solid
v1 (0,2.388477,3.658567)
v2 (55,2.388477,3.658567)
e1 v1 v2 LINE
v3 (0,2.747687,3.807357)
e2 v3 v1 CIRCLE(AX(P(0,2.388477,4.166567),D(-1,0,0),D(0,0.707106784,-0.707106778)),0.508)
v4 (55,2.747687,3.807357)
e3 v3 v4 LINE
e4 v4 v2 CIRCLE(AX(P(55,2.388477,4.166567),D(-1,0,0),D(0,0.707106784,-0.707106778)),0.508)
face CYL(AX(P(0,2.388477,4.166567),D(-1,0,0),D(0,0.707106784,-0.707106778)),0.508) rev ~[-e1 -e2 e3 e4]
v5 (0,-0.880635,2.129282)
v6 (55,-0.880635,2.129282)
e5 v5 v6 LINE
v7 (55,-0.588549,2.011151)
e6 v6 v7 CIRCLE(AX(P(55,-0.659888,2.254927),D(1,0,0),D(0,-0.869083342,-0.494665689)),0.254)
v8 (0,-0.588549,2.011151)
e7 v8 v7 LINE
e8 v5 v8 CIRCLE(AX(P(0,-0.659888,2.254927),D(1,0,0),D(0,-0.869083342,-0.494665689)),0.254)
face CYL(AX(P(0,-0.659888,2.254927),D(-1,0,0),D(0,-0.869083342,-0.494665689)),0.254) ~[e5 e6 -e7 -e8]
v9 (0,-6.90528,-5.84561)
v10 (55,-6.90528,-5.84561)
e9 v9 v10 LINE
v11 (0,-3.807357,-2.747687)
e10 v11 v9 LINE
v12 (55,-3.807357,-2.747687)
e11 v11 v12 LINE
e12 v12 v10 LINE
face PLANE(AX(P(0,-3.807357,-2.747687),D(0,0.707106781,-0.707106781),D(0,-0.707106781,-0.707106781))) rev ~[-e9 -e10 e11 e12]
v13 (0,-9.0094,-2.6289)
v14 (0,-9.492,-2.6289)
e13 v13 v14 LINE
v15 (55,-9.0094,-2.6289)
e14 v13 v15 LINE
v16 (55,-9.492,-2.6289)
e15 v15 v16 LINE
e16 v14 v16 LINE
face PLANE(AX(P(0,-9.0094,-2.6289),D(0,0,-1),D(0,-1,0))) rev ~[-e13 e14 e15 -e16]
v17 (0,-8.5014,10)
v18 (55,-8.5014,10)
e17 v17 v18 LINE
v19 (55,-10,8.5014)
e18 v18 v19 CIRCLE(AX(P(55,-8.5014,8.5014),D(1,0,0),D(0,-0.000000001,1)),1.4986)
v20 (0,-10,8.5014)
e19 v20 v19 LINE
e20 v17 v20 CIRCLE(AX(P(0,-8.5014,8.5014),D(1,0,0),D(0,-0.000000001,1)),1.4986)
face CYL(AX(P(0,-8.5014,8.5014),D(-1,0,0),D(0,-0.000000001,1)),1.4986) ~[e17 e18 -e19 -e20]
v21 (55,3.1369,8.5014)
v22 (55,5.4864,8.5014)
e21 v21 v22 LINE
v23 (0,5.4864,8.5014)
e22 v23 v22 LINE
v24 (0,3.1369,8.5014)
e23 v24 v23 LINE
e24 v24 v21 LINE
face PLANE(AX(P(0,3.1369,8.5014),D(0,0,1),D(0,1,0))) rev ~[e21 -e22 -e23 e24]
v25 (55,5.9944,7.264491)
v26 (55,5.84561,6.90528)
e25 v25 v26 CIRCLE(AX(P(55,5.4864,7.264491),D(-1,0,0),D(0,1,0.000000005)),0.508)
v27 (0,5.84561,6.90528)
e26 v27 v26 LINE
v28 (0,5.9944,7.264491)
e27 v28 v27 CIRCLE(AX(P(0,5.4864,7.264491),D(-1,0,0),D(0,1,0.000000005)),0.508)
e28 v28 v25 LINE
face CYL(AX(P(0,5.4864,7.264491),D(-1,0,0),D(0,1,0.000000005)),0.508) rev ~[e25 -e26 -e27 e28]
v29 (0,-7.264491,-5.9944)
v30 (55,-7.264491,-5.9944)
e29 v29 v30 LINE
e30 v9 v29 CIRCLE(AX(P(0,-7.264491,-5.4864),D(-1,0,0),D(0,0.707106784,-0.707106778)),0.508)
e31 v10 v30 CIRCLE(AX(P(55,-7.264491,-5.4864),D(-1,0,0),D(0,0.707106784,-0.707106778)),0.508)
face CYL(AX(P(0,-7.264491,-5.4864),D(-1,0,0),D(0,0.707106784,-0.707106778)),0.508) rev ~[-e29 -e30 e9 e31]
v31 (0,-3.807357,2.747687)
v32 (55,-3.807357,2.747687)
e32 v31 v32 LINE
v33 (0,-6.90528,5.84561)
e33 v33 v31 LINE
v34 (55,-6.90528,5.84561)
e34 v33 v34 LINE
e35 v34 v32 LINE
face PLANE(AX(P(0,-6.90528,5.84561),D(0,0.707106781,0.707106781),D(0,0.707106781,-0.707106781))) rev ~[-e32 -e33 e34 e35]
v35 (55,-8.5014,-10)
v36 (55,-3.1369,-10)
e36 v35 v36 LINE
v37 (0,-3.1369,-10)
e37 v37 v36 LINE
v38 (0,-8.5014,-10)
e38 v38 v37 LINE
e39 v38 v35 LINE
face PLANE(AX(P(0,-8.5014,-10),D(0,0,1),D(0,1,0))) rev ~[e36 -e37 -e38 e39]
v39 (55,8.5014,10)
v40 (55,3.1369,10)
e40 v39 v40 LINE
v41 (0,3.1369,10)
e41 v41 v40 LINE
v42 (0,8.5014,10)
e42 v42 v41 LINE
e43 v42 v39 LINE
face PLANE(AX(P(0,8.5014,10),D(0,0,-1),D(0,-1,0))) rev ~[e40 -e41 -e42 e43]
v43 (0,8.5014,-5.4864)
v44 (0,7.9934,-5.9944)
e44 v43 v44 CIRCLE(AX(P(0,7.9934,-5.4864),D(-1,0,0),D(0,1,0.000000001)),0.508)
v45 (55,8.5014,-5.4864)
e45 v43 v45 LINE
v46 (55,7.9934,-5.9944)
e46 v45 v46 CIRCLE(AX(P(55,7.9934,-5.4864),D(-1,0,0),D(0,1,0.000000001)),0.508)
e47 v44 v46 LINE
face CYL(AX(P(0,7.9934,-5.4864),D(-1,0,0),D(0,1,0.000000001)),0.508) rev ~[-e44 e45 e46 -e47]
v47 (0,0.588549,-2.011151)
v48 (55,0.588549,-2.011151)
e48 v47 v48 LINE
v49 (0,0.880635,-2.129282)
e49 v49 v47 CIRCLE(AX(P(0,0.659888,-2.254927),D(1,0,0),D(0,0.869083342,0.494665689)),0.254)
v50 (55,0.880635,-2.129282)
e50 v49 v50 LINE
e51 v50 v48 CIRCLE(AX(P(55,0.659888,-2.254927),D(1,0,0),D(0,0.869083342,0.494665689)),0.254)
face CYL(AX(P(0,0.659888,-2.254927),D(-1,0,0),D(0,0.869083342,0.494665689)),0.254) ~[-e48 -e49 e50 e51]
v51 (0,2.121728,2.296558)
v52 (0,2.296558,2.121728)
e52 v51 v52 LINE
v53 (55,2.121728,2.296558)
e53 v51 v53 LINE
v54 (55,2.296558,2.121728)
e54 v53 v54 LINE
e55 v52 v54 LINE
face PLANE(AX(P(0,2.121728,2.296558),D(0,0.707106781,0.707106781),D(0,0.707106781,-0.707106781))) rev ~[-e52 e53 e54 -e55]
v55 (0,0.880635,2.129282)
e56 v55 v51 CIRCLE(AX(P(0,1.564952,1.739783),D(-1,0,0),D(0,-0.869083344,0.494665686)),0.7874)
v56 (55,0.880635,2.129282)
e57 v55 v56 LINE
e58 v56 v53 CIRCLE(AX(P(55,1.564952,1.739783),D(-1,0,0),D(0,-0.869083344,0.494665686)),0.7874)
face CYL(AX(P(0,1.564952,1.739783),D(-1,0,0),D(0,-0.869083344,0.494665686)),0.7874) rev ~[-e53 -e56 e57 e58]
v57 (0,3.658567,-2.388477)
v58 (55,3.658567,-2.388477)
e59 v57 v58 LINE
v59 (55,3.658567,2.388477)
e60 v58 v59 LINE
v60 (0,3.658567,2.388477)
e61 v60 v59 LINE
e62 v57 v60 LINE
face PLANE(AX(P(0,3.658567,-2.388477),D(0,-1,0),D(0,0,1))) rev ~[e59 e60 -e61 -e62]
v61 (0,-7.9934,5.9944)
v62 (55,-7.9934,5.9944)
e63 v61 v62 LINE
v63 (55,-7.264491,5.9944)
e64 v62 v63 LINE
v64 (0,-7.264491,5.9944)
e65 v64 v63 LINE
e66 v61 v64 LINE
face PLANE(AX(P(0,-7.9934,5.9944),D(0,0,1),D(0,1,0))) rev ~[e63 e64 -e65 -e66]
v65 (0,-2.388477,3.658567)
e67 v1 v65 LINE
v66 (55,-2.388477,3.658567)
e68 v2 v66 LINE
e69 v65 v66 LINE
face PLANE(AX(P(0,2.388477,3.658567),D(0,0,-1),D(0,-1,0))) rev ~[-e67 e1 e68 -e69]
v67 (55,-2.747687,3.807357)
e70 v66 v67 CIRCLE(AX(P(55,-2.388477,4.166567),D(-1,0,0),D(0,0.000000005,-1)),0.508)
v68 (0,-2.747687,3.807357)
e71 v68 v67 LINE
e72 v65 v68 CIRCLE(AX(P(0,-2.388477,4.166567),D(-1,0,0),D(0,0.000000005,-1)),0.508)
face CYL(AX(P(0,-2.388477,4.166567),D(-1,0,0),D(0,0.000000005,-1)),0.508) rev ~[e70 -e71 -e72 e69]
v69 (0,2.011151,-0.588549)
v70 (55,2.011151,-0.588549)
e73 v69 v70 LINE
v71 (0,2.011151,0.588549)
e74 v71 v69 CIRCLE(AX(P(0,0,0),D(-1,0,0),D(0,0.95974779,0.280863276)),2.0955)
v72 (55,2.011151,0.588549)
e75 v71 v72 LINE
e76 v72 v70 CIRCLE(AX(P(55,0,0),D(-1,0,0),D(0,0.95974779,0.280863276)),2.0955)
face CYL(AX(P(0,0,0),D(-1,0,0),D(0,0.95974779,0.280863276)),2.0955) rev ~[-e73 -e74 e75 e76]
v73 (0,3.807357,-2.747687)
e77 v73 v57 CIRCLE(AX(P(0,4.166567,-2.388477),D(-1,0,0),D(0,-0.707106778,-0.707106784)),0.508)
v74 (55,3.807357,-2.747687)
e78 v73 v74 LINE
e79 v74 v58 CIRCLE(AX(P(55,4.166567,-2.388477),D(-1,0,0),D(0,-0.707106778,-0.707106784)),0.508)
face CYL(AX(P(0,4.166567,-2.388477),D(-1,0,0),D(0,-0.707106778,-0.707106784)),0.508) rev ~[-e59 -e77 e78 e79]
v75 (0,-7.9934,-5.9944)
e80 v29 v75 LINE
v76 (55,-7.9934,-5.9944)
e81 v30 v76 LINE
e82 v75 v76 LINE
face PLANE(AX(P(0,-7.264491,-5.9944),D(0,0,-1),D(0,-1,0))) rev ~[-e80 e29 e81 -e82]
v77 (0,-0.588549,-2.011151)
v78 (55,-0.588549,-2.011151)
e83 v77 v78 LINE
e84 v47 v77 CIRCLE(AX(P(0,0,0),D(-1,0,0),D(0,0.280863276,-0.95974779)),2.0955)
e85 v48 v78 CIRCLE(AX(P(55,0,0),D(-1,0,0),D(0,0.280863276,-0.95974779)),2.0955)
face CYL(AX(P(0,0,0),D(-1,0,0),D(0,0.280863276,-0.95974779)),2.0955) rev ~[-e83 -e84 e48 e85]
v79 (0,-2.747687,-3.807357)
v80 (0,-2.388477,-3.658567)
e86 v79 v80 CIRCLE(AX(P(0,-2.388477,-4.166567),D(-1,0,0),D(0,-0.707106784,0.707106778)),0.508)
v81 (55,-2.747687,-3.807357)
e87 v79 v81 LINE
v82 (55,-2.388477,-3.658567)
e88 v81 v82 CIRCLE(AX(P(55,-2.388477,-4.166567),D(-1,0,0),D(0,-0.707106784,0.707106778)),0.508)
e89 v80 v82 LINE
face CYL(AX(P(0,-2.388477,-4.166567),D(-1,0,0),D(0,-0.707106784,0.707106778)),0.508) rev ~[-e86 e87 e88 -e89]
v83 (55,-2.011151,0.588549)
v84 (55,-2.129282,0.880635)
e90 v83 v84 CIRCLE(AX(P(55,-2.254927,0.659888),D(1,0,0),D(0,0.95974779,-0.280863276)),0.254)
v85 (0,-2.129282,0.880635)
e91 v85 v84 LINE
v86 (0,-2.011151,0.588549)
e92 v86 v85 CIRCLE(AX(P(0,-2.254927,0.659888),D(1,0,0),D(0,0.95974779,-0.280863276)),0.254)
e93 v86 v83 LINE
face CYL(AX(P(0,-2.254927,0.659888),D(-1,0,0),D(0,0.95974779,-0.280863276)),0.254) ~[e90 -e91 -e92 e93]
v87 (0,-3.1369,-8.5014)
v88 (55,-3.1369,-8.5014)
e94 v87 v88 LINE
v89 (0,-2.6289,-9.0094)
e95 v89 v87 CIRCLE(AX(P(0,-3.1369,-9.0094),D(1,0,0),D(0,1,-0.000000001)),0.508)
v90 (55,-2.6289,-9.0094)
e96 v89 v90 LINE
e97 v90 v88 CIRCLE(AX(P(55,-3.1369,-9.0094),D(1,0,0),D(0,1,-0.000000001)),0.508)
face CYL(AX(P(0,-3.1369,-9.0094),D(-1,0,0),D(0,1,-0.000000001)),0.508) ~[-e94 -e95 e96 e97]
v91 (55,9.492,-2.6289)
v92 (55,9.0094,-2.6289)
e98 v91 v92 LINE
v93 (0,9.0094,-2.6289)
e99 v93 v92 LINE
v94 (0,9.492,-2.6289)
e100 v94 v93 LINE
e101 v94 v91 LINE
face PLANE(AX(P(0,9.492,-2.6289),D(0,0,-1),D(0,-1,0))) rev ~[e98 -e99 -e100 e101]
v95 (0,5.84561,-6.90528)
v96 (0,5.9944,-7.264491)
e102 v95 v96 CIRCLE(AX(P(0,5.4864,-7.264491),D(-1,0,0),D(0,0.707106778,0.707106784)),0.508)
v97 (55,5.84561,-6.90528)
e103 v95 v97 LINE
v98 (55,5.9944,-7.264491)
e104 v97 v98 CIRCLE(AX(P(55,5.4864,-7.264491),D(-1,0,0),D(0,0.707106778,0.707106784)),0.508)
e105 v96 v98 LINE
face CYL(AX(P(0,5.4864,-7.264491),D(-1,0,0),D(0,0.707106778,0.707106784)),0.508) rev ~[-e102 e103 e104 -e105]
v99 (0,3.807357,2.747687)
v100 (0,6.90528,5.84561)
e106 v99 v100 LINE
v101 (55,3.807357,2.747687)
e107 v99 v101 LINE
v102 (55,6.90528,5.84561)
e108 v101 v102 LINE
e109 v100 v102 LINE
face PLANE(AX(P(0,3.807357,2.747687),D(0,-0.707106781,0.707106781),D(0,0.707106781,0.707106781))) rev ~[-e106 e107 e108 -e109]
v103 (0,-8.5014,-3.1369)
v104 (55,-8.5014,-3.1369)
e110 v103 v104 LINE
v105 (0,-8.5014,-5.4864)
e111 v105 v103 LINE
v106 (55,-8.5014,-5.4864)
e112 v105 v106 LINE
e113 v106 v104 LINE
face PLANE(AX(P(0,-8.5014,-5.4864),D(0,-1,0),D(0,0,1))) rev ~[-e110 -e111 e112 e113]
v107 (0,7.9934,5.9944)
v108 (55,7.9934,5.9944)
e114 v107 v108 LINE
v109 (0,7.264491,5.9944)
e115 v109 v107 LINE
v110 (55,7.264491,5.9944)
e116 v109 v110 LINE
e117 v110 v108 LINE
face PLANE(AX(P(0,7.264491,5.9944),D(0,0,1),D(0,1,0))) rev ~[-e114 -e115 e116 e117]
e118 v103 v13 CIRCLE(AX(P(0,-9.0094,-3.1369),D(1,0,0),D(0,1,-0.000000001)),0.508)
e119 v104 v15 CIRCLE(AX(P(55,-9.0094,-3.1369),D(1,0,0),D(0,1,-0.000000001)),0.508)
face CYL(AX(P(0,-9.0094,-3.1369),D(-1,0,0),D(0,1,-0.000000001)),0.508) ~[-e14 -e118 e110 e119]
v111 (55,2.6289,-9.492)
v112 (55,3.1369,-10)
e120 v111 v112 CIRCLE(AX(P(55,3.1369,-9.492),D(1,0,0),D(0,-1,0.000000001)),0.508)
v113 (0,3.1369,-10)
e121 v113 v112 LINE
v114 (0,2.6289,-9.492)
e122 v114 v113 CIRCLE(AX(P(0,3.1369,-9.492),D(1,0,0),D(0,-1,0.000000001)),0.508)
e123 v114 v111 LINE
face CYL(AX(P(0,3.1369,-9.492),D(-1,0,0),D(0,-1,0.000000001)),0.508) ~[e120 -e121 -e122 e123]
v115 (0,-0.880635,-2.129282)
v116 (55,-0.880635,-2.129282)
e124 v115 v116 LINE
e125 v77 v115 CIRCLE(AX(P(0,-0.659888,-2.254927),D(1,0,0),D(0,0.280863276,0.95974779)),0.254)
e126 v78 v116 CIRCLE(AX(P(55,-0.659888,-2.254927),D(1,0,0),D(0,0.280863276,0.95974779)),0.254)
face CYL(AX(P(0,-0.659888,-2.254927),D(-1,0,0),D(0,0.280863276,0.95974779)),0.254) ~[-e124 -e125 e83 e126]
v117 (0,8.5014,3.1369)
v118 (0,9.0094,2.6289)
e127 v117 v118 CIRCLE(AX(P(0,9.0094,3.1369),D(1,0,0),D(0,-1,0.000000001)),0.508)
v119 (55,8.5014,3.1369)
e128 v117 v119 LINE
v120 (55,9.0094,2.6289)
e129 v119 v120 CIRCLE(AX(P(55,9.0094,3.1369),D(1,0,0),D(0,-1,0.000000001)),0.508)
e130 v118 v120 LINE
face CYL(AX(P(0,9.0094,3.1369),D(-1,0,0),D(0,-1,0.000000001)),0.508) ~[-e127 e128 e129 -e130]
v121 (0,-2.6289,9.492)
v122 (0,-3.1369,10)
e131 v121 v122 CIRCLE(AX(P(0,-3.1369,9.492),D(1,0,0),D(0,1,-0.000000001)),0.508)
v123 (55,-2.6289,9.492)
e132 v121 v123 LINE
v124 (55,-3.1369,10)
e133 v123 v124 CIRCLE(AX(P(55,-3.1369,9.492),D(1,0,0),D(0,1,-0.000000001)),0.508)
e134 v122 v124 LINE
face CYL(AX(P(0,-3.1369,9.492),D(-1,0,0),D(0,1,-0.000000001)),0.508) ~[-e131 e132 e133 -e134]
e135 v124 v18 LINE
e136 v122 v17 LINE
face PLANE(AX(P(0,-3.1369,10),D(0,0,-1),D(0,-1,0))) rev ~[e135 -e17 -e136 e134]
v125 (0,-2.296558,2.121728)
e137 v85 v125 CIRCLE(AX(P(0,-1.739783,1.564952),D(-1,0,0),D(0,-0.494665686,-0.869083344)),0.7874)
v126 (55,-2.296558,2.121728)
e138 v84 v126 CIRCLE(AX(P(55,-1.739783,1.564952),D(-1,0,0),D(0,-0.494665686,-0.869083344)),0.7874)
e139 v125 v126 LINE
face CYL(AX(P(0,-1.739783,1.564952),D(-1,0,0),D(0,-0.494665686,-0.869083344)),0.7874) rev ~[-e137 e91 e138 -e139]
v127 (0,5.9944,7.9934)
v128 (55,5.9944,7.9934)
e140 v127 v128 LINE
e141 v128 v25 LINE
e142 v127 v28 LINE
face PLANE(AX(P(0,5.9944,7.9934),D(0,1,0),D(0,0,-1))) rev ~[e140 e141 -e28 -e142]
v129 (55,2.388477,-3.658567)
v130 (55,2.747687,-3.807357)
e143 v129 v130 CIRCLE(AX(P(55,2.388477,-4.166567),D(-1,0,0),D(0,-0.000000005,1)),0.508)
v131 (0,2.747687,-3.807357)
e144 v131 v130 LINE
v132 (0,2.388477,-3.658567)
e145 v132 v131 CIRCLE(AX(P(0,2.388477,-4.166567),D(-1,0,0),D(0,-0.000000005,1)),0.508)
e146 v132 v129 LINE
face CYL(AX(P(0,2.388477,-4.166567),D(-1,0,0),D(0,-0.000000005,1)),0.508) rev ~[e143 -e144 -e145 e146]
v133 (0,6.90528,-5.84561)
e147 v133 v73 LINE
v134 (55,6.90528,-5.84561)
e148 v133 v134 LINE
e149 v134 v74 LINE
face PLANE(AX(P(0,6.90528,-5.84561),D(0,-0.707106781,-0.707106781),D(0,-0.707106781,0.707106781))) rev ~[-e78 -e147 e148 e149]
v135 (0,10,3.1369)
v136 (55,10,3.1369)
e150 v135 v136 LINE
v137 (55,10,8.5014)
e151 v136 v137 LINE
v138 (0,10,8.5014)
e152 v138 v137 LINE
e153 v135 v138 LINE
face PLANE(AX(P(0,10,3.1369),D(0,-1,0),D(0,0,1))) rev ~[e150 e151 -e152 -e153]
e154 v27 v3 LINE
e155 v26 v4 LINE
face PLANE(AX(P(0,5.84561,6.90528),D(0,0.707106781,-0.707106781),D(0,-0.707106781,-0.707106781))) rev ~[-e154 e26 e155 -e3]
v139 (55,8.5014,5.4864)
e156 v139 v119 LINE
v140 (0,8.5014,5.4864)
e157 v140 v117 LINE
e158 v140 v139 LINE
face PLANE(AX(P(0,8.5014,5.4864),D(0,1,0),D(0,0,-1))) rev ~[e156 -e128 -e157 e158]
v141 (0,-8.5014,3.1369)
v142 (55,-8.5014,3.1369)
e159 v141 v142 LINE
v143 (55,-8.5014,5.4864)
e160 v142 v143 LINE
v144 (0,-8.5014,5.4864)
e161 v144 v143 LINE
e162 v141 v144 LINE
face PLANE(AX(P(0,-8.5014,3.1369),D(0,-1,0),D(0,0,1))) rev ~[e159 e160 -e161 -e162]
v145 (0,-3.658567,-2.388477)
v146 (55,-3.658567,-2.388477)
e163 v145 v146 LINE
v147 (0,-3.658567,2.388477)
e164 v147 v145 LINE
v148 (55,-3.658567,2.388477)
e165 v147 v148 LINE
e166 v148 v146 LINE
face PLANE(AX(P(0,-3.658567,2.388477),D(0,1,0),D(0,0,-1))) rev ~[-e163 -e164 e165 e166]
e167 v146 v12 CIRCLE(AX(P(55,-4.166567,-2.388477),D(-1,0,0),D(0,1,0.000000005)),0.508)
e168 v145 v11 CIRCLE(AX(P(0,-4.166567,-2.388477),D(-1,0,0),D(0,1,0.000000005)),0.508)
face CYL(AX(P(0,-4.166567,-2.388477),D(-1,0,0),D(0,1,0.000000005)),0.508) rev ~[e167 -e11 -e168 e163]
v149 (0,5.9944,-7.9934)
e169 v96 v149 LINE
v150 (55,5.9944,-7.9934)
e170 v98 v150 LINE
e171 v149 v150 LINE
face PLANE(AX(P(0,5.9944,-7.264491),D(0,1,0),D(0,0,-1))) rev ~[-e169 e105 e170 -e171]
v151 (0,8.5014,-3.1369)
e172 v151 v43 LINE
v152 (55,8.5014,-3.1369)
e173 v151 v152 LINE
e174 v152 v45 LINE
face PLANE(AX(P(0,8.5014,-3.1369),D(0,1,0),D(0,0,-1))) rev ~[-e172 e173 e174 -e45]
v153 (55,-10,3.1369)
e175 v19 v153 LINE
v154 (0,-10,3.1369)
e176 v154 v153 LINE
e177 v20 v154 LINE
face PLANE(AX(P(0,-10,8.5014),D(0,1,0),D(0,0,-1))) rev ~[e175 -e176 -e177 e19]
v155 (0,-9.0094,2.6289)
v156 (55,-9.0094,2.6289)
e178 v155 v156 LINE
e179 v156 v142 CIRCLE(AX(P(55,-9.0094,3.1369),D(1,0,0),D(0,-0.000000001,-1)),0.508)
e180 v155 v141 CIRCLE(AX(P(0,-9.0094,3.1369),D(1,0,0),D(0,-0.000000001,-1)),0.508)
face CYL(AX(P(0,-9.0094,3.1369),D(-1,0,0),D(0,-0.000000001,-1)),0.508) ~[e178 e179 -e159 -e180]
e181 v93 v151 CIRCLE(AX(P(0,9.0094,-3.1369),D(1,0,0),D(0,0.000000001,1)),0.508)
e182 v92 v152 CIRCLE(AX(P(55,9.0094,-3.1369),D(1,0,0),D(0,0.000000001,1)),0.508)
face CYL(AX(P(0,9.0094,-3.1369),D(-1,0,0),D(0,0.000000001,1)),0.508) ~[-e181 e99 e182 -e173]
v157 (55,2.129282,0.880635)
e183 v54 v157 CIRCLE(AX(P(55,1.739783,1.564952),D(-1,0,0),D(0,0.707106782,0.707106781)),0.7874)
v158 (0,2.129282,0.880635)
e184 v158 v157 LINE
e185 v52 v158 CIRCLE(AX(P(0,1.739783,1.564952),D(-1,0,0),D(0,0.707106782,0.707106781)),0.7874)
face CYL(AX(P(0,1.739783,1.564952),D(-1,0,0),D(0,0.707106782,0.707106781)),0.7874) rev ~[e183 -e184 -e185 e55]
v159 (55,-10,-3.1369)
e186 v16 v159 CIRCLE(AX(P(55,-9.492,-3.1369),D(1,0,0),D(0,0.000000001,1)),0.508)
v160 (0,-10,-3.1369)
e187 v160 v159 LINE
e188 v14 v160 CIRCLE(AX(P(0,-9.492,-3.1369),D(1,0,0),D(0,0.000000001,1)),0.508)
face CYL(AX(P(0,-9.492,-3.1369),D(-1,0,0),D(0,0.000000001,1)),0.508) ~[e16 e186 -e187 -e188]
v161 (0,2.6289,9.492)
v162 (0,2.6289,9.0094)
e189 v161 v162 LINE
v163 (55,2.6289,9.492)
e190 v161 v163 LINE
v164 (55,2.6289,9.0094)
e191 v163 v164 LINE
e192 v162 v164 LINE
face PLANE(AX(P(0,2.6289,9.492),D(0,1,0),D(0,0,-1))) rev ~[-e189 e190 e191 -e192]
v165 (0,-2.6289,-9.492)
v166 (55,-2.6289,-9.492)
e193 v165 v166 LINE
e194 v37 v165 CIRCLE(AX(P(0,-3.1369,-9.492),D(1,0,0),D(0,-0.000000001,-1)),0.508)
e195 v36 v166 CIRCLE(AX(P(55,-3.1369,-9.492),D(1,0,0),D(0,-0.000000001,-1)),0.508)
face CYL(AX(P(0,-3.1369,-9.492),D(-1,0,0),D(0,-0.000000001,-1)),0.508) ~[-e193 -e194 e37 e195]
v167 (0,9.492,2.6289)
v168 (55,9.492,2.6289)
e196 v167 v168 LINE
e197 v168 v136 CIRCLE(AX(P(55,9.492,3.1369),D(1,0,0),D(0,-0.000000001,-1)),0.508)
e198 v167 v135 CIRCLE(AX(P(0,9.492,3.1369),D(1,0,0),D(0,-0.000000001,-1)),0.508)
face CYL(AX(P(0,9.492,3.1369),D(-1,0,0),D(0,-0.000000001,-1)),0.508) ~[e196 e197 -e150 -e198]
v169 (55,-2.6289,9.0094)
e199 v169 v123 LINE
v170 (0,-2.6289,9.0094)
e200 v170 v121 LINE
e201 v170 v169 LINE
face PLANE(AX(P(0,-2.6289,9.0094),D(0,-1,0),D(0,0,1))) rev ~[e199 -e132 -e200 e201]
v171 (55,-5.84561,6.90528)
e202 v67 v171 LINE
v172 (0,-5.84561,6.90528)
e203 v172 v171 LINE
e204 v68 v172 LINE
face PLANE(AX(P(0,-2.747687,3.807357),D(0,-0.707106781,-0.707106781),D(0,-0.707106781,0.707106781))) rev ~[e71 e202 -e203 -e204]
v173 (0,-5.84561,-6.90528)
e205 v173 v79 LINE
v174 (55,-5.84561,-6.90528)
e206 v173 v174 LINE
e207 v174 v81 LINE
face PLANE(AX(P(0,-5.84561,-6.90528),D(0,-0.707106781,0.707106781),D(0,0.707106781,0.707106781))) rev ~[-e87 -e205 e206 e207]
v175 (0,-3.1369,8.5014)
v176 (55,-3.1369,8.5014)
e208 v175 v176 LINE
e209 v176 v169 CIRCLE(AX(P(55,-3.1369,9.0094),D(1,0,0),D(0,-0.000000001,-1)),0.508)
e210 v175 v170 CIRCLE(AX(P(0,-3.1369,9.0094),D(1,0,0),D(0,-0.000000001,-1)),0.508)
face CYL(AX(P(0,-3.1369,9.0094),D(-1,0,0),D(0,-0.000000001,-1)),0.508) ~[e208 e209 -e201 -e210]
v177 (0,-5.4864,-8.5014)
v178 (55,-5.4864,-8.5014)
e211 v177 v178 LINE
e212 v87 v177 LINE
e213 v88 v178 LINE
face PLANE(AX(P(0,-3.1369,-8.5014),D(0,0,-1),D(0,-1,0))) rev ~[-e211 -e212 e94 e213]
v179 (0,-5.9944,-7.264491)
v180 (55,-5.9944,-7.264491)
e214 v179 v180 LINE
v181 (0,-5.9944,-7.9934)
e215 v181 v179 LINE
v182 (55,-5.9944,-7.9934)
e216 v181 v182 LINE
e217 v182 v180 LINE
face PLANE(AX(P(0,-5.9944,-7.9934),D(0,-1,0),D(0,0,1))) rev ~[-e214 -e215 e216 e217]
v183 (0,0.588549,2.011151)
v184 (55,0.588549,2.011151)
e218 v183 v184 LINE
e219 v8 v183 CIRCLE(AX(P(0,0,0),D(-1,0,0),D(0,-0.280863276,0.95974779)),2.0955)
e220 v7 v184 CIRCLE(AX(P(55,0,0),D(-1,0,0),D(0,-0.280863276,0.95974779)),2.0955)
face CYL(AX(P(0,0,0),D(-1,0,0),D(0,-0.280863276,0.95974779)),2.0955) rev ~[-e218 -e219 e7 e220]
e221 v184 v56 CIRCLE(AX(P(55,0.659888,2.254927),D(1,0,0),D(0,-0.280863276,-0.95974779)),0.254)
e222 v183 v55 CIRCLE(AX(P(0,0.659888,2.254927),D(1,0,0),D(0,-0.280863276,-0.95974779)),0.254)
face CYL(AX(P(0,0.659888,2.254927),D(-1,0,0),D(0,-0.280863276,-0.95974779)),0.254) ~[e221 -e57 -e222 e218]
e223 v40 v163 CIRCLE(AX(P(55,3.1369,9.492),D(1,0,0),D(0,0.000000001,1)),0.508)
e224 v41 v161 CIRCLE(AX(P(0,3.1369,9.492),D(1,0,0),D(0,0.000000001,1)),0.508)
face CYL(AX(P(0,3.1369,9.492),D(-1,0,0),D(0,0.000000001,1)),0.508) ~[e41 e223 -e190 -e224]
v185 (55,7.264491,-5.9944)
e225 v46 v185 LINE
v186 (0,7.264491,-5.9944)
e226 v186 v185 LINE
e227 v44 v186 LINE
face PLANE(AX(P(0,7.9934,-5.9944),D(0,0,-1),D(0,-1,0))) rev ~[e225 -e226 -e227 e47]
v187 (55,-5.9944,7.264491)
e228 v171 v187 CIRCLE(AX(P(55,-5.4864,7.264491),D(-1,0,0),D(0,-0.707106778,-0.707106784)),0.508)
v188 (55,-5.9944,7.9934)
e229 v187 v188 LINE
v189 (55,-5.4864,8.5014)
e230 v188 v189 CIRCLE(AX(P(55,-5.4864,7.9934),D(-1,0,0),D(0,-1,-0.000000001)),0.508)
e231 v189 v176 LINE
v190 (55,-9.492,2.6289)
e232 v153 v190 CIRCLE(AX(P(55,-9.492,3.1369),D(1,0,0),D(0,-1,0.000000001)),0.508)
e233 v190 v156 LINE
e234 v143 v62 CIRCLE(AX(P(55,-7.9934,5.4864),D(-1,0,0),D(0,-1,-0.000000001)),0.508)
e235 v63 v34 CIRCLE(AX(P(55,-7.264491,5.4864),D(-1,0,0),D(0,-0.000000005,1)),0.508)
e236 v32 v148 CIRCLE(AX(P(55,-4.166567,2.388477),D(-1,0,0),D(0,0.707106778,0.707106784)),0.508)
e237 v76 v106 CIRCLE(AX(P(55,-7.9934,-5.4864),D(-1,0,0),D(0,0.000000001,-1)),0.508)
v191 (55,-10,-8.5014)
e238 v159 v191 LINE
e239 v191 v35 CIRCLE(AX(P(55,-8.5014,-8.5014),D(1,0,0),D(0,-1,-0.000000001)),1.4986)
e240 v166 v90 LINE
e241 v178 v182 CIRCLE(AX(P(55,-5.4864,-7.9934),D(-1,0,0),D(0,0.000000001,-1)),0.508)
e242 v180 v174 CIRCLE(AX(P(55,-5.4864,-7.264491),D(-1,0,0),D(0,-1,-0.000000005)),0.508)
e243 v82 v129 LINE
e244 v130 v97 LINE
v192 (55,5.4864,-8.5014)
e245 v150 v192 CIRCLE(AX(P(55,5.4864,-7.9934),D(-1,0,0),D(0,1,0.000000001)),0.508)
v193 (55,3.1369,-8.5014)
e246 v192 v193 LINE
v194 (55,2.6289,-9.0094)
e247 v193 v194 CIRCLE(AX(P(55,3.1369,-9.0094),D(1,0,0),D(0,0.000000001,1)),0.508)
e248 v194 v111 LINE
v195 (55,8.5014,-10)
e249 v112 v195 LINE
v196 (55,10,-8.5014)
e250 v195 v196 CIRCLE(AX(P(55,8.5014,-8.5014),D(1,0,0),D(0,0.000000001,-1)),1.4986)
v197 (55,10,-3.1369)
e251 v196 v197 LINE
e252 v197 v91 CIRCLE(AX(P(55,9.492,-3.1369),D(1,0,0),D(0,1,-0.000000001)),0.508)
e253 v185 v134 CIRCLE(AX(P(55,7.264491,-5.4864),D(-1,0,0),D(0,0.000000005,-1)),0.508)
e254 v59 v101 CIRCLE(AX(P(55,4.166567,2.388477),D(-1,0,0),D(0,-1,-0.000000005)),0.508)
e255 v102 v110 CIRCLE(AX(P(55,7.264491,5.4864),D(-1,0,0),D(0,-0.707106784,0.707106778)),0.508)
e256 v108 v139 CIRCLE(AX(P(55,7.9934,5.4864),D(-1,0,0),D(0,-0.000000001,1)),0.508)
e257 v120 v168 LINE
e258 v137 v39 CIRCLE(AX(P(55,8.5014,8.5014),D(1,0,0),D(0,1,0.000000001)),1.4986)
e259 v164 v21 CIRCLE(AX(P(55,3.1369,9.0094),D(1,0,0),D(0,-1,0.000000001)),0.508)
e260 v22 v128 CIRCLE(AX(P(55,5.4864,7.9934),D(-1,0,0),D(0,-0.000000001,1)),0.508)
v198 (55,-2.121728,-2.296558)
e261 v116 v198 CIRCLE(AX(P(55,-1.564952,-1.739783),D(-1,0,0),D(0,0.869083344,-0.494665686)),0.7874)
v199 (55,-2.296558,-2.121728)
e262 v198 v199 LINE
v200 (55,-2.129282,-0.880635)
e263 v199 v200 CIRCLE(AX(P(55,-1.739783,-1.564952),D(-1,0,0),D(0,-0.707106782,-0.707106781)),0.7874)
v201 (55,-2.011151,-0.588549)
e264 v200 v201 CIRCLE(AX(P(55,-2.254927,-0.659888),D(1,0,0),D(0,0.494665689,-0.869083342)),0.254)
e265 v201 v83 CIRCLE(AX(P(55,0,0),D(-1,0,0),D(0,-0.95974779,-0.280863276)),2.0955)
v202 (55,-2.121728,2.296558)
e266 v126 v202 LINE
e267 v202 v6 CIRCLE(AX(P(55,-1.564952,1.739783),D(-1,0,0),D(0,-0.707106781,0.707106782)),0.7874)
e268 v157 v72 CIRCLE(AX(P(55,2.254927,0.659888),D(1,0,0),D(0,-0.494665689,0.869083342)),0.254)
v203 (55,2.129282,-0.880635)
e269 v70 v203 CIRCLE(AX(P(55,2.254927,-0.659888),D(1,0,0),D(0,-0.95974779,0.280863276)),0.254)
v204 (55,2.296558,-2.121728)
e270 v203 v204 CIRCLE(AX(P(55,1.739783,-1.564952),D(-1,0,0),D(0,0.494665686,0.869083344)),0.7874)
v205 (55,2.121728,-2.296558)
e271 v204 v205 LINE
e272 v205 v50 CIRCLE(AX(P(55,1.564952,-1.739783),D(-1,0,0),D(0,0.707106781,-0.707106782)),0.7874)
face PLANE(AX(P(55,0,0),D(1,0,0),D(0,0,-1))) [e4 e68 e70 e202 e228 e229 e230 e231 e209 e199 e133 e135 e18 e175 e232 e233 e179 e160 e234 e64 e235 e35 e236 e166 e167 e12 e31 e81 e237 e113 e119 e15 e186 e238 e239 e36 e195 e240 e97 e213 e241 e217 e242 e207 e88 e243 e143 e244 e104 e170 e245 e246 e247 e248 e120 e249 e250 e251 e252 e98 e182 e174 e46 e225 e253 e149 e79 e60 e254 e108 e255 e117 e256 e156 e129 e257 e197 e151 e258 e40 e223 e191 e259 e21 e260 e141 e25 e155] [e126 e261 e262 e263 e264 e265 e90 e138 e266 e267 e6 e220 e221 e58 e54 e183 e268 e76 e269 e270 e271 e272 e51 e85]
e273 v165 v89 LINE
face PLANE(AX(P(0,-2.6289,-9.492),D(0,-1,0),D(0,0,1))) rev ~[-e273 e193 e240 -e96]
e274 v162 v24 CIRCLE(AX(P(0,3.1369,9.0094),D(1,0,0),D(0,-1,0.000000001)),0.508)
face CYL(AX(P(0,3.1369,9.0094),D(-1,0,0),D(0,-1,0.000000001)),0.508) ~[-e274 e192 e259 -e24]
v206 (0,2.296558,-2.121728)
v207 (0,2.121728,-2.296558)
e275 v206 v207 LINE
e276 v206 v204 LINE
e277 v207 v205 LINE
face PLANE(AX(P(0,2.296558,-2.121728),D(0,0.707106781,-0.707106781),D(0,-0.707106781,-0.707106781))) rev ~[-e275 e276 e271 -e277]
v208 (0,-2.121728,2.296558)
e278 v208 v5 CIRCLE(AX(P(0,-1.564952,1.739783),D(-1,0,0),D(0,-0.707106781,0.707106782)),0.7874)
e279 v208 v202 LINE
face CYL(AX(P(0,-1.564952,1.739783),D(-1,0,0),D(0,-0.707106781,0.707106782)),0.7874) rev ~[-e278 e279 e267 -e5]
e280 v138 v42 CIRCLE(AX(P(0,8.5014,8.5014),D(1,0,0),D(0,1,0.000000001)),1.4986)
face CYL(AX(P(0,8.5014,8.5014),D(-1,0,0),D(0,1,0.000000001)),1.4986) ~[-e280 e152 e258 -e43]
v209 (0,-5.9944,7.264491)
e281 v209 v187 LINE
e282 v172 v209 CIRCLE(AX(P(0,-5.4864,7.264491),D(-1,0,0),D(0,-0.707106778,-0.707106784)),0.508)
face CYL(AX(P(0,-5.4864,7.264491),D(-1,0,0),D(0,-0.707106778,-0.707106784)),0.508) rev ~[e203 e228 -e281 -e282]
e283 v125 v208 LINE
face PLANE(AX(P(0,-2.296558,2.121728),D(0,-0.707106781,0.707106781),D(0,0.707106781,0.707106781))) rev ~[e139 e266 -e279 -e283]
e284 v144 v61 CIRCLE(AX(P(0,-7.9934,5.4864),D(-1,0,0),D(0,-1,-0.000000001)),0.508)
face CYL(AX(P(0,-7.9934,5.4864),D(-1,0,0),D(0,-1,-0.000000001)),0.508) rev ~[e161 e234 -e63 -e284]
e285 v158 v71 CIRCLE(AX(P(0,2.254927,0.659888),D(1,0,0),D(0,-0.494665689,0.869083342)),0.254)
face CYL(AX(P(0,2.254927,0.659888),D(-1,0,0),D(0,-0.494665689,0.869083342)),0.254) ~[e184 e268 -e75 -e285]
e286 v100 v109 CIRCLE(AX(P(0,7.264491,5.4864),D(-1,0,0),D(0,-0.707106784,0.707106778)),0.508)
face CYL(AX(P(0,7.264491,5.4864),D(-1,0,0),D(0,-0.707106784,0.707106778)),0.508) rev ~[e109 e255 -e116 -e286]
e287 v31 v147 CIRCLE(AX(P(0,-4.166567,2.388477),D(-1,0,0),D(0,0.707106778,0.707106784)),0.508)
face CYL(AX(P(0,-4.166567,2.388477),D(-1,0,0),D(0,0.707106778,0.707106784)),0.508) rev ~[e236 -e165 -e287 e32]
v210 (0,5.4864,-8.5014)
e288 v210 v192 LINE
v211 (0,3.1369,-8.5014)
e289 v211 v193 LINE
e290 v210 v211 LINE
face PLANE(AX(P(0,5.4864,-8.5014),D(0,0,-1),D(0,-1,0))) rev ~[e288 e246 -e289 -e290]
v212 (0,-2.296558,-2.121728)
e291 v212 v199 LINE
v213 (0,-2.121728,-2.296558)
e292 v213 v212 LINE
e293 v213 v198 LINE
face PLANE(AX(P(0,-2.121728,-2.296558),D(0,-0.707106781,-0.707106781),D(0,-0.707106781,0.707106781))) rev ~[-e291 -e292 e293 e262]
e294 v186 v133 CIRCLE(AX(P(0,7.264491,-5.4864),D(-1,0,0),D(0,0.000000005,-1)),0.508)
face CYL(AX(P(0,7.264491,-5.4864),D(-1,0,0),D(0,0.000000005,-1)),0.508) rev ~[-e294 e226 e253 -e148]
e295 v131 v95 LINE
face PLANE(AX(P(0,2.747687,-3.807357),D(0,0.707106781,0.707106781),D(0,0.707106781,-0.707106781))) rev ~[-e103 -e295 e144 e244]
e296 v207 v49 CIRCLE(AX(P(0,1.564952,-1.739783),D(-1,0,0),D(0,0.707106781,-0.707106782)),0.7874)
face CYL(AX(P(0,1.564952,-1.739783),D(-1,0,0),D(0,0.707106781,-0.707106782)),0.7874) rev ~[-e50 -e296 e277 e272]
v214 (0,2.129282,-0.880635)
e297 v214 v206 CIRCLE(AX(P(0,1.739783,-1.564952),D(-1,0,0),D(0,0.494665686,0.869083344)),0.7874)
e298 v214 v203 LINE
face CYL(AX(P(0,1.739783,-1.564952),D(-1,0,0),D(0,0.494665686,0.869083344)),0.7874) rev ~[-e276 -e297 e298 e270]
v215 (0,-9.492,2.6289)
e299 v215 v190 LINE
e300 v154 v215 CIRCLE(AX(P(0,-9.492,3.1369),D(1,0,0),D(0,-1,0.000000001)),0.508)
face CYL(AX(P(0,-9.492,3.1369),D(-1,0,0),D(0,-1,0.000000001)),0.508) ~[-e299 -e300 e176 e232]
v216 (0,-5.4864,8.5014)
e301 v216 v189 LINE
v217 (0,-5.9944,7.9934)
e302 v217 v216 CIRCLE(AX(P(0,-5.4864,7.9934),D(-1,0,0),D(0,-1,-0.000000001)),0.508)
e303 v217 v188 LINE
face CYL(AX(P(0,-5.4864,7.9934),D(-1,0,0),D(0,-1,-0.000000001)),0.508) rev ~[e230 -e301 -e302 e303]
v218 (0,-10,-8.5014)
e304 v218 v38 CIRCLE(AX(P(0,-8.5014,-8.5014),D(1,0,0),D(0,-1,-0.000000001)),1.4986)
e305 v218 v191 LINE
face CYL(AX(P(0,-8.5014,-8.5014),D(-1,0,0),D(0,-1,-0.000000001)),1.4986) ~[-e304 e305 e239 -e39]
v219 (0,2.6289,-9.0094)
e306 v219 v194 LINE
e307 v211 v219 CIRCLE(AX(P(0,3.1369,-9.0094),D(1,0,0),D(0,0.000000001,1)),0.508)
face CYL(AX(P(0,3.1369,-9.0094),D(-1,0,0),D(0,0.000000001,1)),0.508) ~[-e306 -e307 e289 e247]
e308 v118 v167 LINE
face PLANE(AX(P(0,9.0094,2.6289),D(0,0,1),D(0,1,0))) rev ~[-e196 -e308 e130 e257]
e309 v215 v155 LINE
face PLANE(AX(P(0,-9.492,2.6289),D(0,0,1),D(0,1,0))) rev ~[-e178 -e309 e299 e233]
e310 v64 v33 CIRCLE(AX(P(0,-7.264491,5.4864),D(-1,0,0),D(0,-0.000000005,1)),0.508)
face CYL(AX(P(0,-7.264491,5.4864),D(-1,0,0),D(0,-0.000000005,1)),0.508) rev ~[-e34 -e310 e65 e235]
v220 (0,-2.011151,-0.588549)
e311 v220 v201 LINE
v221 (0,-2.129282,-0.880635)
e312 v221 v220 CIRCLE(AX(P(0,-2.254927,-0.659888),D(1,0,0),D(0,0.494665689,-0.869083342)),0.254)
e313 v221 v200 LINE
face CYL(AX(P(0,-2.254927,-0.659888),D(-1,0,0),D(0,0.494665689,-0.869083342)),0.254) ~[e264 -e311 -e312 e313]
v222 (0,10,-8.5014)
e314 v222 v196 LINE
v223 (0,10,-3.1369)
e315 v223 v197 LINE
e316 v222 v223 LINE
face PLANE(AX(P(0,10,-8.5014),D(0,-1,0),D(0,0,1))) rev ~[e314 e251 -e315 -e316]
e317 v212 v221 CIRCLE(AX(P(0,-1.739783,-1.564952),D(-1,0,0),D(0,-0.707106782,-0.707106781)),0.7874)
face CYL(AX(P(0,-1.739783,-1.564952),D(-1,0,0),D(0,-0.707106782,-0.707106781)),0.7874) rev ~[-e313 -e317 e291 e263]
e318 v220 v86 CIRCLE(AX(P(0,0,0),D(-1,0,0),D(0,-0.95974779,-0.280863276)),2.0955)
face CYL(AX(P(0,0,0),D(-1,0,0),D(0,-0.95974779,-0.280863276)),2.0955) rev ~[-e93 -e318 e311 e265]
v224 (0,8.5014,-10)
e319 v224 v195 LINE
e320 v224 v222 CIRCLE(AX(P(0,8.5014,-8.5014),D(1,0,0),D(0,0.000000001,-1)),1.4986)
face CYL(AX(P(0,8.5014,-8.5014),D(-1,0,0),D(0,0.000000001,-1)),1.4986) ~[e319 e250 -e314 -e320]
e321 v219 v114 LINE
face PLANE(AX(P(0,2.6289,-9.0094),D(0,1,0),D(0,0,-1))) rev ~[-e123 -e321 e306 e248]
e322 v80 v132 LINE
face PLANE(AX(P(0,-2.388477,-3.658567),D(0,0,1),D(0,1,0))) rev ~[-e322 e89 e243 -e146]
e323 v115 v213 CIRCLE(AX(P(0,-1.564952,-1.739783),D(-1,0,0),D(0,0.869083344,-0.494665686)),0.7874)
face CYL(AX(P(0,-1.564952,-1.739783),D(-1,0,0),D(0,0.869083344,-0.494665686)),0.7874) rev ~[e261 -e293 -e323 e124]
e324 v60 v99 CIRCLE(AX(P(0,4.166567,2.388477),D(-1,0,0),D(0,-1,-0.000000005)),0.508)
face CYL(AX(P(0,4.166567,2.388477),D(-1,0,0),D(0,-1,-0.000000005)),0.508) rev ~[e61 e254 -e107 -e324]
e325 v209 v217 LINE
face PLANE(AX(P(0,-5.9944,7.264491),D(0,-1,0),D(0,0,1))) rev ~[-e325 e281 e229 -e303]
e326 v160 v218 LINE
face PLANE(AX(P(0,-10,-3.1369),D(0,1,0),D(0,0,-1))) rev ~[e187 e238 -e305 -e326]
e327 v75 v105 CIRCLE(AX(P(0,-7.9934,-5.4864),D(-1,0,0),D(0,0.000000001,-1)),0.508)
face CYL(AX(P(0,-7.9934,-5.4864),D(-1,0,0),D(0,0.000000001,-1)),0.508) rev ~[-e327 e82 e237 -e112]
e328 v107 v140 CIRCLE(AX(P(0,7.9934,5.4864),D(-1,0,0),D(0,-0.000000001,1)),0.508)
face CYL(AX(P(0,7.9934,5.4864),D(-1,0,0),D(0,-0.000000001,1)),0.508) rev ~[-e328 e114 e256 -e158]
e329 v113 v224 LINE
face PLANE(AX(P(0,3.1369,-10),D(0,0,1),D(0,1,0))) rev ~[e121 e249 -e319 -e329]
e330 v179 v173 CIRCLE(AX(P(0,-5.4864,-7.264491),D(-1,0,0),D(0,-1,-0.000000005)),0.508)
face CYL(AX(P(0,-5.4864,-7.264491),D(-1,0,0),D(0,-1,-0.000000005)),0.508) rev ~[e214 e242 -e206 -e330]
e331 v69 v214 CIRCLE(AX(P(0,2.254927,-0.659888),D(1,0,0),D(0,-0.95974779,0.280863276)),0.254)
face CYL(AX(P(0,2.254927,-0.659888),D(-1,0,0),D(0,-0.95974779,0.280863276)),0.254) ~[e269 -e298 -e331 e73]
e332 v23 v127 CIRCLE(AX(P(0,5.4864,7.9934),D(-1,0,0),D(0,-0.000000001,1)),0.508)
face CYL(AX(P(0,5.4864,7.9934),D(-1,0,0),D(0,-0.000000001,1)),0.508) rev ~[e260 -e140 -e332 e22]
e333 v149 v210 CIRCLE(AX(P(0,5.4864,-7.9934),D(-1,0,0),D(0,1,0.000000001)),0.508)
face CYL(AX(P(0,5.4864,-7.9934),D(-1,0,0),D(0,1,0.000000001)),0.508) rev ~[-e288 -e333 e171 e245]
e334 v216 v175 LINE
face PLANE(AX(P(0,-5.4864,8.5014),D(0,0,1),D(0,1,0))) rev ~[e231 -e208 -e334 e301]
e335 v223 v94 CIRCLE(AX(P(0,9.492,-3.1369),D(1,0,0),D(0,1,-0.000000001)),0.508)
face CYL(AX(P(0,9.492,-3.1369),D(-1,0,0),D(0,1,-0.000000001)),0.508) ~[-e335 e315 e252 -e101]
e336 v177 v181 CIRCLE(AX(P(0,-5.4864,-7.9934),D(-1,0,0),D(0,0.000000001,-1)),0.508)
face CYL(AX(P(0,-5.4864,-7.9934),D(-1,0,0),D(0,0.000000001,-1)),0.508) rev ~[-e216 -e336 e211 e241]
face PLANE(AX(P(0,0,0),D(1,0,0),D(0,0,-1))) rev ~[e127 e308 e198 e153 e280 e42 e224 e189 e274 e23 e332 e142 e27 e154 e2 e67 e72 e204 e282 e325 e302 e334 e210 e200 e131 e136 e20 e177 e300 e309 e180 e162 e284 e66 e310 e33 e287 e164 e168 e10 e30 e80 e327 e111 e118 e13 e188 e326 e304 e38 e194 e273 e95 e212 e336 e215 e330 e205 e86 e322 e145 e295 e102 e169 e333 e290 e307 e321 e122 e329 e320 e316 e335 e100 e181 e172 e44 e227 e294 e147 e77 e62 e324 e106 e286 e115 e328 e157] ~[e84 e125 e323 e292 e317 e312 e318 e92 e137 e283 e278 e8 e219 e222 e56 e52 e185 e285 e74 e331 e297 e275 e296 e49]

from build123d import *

# Parameters (mm, degrees)
F_20_SERIES_20_2020_1_DEPTH = 55


with BuildPart() as part:
    # Sketch11 → 20_series 20-2020(1) (new body)
    with BuildSketch(Plane(origin=(0, 0, 0), x_dir=(0, 0, -1), z_dir=(1, 0, 0))):
        with BuildLine():
            Line((9.0094, 2.6289), (9.492, 2.6289))
            ThreePointArc((9.492, 2.6289), (9.851210245, 2.777689755), (10, 3.1369))
            Line((10, 3.1369), (10, 8.5014))
            ThreePointArc((10, 8.5014), (9.561070222, 9.561070222), (8.5014, 10))
            Line((8.5014, 10), (3.1369, 10))
            ThreePointArc((3.1369, 10), (2.777689755, 9.851210245), (2.6289, 9.492))
            Line((2.6289, 9.492), (2.6289, 9.0094))
            ThreePointArc((2.6289, 9.0094), (2.777689755, 8.650189755), (3.1369, 8.5014))
            Line((3.1369, 8.5014), (5.4864, 8.5014))
            ThreePointArc((5.4864, 8.5014), (5.845610245, 8.352610245), (5.9944, 7.9934))
            Line((5.9944, 7.9934), (5.9944, 7.264490712))
            ThreePointArc((5.9944, 7.264490712), (5.955730803, 7.070087528), (5.845610245, 6.905280467))
            Line((5.845610245, 6.905280467), (2.747686782, 3.807357004))
            ThreePointArc((2.747686782, 3.807357004), (2.582879721, 3.697236446), (2.388476537, 3.658567249))
            Line((2.388476537, 3.658567249), (-2.388476537, 3.658567249))
            ThreePointArc((-2.388476537, 3.658567249), (-2.582879721, 3.697236446), (-2.747686782, 3.807357004))
            Line((-2.747686782, 3.807357004), (-5.845610245, 6.905280467))
            ThreePointArc((-5.845610245, 6.905280467), (-5.955730803, 7.070087528), (-5.9944, 7.264490712))
            Line((-5.9944, 7.264490712), (-5.9944, 7.9934))
            ThreePointArc((-5.9944, 7.9934), (-5.845610245, 8.352610245), (-5.4864, 8.5014))
            Line((-5.4864, 8.5014), (-3.1369, 8.5014))
            ThreePointArc((-3.1369, 8.5014), (-2.777689755, 8.650189755), (-2.6289, 9.0094))
            Line((-2.6289, 9.0094), (-2.6289, 9.492))
            ThreePointArc((-2.6289, 9.492), (-2.777689755, 9.851210245), (-3.1369, 10))
            Line((-3.1369, 10), (-8.5014, 10))
            ThreePointArc((-8.5014, 10), (-9.561070222, 9.561070222), (-10, 8.5014))
            Line((-10, 8.5014), (-10, 3.1369))
            ThreePointArc((-10, 3.1369), (-9.851210245, 2.777689755), (-9.492, 2.6289))
            Line((-9.492, 2.6289), (-9.0094, 2.6289))
            ThreePointArc((-9.0094, 2.6289), (-8.650189755, 2.777689755), (-8.5014, 3.1369))
            Line((-8.5014, 3.1369), (-8.5014, 5.4864))
            ThreePointArc((-8.5014, 5.4864), (-8.352610245, 5.845610245), (-7.9934, 5.9944))
            Line((-7.9934, 5.9944), (-7.264490712, 5.9944))
            ThreePointArc((-7.264490712, 5.9944), (-7.070087528, 5.955730803), (-6.905280467, 5.845610245))
            Line((-6.905280467, 5.845610245), (-3.807357004, 2.747686782))
            ThreePointArc((-3.807357004, 2.747686782), (-3.697236446, 2.582879721), (-3.658567249, 2.388476537))
            Line((-3.658567249, 2.388476537), (-3.658567249, -2.388476537))
            ThreePointArc((-3.658567249, -2.388476537), (-3.697236446, -2.582879721), (-3.807357004, -2.747686782))
            Line((-3.807357004, -2.747686782), (-6.905280467, -5.845610245))
            ThreePointArc((-6.905280467, -5.845610245), (-7.070087528, -5.955730803), (-7.264490712, -5.9944))
            Line((-7.264490712, -5.9944), (-7.9934, -5.9944))
            ThreePointArc((-7.9934, -5.9944), (-8.352610245, -5.845610245), (-8.5014, -5.4864))
            Line((-8.5014, -5.4864), (-8.5014, -3.1369))
            ThreePointArc((-8.5014, -3.1369), (-8.650189755, -2.777689755), (-9.0094, -2.6289))
            Line((-9.0094, -2.6289), (-9.492, -2.6289))
            ThreePointArc((-9.492, -2.6289), (-9.851210245, -2.777689755), (-10, -3.1369))
            Line((-10, -3.1369), (-10, -8.5014))
            ThreePointArc((-10, -8.5014), (-9.561070222, -9.561070222), (-8.5014, -10))
            Line((-8.5014, -10), (-3.1369, -10))
            ThreePointArc((-3.1369, -10), (-2.777689755, -9.851210245), (-2.6289, -9.492))
            Line((-2.6289, -9.492), (-2.6289, -9.0094))
            ThreePointArc((-2.6289, -9.0094), (-2.777689755, -8.650189755), (-3.1369, -8.5014))
            Line((-3.1369, -8.5014), (-5.4864, -8.5014))
            ThreePointArc((-5.4864, -8.5014), (-5.845610245, -8.352610245), (-5.9944, -7.9934))
            Line((-5.9944, -7.9934), (-5.9944, -7.264490712))
            ThreePointArc((-5.9944, -7.264490712), (-5.955730803, -7.070087528), (-5.845610245, -6.905280467))
            Line((-5.845610245, -6.905280467), (-2.747686782, -3.807357004))
            ThreePointArc((-2.747686782, -3.807357004), (-2.582879721, -3.697236446), (-2.388476537, -3.658567249))
            Line((-2.388476537, -3.658567249), (2.388476537, -3.658567249))
            ThreePointArc((2.388476537, -3.658567249), (2.582879721, -3.697236446), (2.747686782, -3.807357004))
            Line((2.747686782, -3.807357004), (5.845610245, -6.905280467))
            ThreePointArc((5.845610245, -6.905280467), (5.955730803, -7.070087528), (5.9944, -7.264490712))
            Line((5.9944, -7.264490712), (5.9944, -7.9934))
            ThreePointArc((5.9944, -7.9934), (5.845610245, -8.352610245), (5.4864, -8.5014))
            Line((5.4864, -8.5014), (3.1369, -8.5014))
            ThreePointArc((3.1369, -8.5014), (2.777689755, -8.650189755), (2.6289, -9.0094))
            Line((2.6289, -9.0094), (2.6289, -9.492))
            ThreePointArc((2.6289, -9.492), (2.777689755, -9.851210245), (3.1369, -10))
            Line((3.1369, -10), (8.5014, -10))
            ThreePointArc((8.5014, -10), (9.561070222, -9.561070222), (10, -8.5014))
            Line((10, -8.5014), (10, -3.1369))
            ThreePointArc((10, -3.1369), (9.851210245, -2.777689755), (9.492, -2.6289))
            Line((9.492, -2.6289), (9.0094, -2.6289))
            ThreePointArc((9.0094, -2.6289), (8.650189755, -2.777689755), (8.5014, -3.1369))
            Line((8.5014, -3.1369), (8.5014, -5.4864))
            ThreePointArc((8.5014, -5.4864), (8.352610245, -5.845610245), (7.9934, -5.9944))
            Line((7.9934, -5.9944), (7.264490712, -5.9944))
            ThreePointArc((7.264490712, -5.9944), (7.070087528, -5.955730803), (6.905280467, -5.845610245))
            Line((6.905280467, -5.845610245), (3.807357004, -2.747686782))
            ThreePointArc((3.807357004, -2.747686782), (3.697236446, -2.582879721), (3.658567249, -2.388476537))
            Line((3.658567249, -2.388476537), (3.658567249, 2.388476537))
            ThreePointArc((3.658567249, 2.388476537), (3.697236446, 2.582879721), (3.807357004, 2.747686782))
            Line((3.807357004, 2.747686782), (6.905280467, 5.845610245))
            ThreePointArc((6.905280467, 5.845610245), (7.070087528, 5.955730803), (7.264490712, 5.9944))
            Line((7.264490712, 5.9944), (7.9934, 5.9944))
            ThreePointArc((7.9934, 5.9944), (8.352610245, 5.845610245), (8.5014, 5.4864))
            Line((8.5014, 5.4864), (8.5014, 3.1369))
            ThreePointArc((8.5014, 3.1369), (8.650189755, 2.777689755), (9.0094, 2.6289))
        make_face()
        with BuildLine():
            Line((-2.296558466, 2.121727546), (-2.121727546, 2.296558466))
            ThreePointArc((-2.121727546, 2.296558466), (-1.459775814, 2.520126613), (-0.880635441, 2.129282347))
            ThreePointArc((-0.880635441, 2.129282347), (-0.755121693, 2.019456424), (-0.588548999, 2.011151493))
            ThreePointArc((-0.588548999, 2.011151493), (0, 2.0955), (0.588548999, 2.011151493))
            ThreePointArc((0.588548999, 2.011151493), (0.755121693, 2.019456424), (0.880635441, 2.129282347))
            ThreePointArc((0.880635441, 2.129282347), (1.459775814, 2.520126613), (2.121727546, 2.296558466))
            Line((2.121727546, 2.296558466), (2.296558466, 2.121727546))
            ThreePointArc((2.296558466, 2.121727546), (2.520126613, 1.459775814), (2.129282347, 0.880635441))
            ThreePointArc((2.129282347, 0.880635441), (2.019456424, 0.755121693), (2.011151493, 0.588548999))
            ThreePointArc((2.011151493, 0.588548999), (2.0955, 0), (2.011151493, -0.588548999))
            ThreePointArc((2.011151493, -0.588548999), (2.019456424, -0.755121693), (2.129282347, -0.880635441))
            ThreePointArc((2.129282347, -0.880635441), (2.520126613, -1.459775814), (2.296558466, -2.121727546))
            Line((2.296558466, -2.121727546), (2.121727546, -2.296558466))
            ThreePointArc((2.121727546, -2.296558466), (1.459775814, -2.520126613), (0.880635441, -2.129282347))
            ThreePointArc((0.880635441, -2.129282347), (0.755121693, -2.019456424), (0.588548999, -2.011151493))
            ThreePointArc((0.588548999, -2.011151493), (0, -2.0955), (-0.588548999, -2.011151493))
            ThreePointArc((-0.588548999, -2.011151493), (-0.755121693, -2.019456424), (-0.880635441, -2.129282347))
            ThreePointArc((-0.880635441, -2.129282347), (-1.459775814, -2.520126613), (-2.121727546, -2.296558466))
            Line((-2.121727546, -2.296558466), (-2.296558466, -2.121727546))
            ThreePointArc((-2.296558466, -2.121727546), (-2.520126613, -1.459775814), (-2.129282347, -0.880635441))
            ThreePointArc((-2.129282347, -0.880635441), (-2.019456424, -0.755121693), (-2.011151493, -0.588548999))
            ThreePointArc((-2.011151493, -0.588548999), (-2.0955, 0), (-2.011151493, 0.588548999))
            ThreePointArc((-2.011151493, 0.588548999), (-2.019456424, 0.755121693), (-2.129282347, 0.880635441))
            ThreePointArc((-2.129282347, 0.880635441), (-2.520126613, 1.459775814), (-2.296558466, 2.121727546))
        make_face(mode=Mode.SUBTRACT)
    extrude(amount=F_20_SERIES_20_2020_1_DEPTH)


solid = part.part
